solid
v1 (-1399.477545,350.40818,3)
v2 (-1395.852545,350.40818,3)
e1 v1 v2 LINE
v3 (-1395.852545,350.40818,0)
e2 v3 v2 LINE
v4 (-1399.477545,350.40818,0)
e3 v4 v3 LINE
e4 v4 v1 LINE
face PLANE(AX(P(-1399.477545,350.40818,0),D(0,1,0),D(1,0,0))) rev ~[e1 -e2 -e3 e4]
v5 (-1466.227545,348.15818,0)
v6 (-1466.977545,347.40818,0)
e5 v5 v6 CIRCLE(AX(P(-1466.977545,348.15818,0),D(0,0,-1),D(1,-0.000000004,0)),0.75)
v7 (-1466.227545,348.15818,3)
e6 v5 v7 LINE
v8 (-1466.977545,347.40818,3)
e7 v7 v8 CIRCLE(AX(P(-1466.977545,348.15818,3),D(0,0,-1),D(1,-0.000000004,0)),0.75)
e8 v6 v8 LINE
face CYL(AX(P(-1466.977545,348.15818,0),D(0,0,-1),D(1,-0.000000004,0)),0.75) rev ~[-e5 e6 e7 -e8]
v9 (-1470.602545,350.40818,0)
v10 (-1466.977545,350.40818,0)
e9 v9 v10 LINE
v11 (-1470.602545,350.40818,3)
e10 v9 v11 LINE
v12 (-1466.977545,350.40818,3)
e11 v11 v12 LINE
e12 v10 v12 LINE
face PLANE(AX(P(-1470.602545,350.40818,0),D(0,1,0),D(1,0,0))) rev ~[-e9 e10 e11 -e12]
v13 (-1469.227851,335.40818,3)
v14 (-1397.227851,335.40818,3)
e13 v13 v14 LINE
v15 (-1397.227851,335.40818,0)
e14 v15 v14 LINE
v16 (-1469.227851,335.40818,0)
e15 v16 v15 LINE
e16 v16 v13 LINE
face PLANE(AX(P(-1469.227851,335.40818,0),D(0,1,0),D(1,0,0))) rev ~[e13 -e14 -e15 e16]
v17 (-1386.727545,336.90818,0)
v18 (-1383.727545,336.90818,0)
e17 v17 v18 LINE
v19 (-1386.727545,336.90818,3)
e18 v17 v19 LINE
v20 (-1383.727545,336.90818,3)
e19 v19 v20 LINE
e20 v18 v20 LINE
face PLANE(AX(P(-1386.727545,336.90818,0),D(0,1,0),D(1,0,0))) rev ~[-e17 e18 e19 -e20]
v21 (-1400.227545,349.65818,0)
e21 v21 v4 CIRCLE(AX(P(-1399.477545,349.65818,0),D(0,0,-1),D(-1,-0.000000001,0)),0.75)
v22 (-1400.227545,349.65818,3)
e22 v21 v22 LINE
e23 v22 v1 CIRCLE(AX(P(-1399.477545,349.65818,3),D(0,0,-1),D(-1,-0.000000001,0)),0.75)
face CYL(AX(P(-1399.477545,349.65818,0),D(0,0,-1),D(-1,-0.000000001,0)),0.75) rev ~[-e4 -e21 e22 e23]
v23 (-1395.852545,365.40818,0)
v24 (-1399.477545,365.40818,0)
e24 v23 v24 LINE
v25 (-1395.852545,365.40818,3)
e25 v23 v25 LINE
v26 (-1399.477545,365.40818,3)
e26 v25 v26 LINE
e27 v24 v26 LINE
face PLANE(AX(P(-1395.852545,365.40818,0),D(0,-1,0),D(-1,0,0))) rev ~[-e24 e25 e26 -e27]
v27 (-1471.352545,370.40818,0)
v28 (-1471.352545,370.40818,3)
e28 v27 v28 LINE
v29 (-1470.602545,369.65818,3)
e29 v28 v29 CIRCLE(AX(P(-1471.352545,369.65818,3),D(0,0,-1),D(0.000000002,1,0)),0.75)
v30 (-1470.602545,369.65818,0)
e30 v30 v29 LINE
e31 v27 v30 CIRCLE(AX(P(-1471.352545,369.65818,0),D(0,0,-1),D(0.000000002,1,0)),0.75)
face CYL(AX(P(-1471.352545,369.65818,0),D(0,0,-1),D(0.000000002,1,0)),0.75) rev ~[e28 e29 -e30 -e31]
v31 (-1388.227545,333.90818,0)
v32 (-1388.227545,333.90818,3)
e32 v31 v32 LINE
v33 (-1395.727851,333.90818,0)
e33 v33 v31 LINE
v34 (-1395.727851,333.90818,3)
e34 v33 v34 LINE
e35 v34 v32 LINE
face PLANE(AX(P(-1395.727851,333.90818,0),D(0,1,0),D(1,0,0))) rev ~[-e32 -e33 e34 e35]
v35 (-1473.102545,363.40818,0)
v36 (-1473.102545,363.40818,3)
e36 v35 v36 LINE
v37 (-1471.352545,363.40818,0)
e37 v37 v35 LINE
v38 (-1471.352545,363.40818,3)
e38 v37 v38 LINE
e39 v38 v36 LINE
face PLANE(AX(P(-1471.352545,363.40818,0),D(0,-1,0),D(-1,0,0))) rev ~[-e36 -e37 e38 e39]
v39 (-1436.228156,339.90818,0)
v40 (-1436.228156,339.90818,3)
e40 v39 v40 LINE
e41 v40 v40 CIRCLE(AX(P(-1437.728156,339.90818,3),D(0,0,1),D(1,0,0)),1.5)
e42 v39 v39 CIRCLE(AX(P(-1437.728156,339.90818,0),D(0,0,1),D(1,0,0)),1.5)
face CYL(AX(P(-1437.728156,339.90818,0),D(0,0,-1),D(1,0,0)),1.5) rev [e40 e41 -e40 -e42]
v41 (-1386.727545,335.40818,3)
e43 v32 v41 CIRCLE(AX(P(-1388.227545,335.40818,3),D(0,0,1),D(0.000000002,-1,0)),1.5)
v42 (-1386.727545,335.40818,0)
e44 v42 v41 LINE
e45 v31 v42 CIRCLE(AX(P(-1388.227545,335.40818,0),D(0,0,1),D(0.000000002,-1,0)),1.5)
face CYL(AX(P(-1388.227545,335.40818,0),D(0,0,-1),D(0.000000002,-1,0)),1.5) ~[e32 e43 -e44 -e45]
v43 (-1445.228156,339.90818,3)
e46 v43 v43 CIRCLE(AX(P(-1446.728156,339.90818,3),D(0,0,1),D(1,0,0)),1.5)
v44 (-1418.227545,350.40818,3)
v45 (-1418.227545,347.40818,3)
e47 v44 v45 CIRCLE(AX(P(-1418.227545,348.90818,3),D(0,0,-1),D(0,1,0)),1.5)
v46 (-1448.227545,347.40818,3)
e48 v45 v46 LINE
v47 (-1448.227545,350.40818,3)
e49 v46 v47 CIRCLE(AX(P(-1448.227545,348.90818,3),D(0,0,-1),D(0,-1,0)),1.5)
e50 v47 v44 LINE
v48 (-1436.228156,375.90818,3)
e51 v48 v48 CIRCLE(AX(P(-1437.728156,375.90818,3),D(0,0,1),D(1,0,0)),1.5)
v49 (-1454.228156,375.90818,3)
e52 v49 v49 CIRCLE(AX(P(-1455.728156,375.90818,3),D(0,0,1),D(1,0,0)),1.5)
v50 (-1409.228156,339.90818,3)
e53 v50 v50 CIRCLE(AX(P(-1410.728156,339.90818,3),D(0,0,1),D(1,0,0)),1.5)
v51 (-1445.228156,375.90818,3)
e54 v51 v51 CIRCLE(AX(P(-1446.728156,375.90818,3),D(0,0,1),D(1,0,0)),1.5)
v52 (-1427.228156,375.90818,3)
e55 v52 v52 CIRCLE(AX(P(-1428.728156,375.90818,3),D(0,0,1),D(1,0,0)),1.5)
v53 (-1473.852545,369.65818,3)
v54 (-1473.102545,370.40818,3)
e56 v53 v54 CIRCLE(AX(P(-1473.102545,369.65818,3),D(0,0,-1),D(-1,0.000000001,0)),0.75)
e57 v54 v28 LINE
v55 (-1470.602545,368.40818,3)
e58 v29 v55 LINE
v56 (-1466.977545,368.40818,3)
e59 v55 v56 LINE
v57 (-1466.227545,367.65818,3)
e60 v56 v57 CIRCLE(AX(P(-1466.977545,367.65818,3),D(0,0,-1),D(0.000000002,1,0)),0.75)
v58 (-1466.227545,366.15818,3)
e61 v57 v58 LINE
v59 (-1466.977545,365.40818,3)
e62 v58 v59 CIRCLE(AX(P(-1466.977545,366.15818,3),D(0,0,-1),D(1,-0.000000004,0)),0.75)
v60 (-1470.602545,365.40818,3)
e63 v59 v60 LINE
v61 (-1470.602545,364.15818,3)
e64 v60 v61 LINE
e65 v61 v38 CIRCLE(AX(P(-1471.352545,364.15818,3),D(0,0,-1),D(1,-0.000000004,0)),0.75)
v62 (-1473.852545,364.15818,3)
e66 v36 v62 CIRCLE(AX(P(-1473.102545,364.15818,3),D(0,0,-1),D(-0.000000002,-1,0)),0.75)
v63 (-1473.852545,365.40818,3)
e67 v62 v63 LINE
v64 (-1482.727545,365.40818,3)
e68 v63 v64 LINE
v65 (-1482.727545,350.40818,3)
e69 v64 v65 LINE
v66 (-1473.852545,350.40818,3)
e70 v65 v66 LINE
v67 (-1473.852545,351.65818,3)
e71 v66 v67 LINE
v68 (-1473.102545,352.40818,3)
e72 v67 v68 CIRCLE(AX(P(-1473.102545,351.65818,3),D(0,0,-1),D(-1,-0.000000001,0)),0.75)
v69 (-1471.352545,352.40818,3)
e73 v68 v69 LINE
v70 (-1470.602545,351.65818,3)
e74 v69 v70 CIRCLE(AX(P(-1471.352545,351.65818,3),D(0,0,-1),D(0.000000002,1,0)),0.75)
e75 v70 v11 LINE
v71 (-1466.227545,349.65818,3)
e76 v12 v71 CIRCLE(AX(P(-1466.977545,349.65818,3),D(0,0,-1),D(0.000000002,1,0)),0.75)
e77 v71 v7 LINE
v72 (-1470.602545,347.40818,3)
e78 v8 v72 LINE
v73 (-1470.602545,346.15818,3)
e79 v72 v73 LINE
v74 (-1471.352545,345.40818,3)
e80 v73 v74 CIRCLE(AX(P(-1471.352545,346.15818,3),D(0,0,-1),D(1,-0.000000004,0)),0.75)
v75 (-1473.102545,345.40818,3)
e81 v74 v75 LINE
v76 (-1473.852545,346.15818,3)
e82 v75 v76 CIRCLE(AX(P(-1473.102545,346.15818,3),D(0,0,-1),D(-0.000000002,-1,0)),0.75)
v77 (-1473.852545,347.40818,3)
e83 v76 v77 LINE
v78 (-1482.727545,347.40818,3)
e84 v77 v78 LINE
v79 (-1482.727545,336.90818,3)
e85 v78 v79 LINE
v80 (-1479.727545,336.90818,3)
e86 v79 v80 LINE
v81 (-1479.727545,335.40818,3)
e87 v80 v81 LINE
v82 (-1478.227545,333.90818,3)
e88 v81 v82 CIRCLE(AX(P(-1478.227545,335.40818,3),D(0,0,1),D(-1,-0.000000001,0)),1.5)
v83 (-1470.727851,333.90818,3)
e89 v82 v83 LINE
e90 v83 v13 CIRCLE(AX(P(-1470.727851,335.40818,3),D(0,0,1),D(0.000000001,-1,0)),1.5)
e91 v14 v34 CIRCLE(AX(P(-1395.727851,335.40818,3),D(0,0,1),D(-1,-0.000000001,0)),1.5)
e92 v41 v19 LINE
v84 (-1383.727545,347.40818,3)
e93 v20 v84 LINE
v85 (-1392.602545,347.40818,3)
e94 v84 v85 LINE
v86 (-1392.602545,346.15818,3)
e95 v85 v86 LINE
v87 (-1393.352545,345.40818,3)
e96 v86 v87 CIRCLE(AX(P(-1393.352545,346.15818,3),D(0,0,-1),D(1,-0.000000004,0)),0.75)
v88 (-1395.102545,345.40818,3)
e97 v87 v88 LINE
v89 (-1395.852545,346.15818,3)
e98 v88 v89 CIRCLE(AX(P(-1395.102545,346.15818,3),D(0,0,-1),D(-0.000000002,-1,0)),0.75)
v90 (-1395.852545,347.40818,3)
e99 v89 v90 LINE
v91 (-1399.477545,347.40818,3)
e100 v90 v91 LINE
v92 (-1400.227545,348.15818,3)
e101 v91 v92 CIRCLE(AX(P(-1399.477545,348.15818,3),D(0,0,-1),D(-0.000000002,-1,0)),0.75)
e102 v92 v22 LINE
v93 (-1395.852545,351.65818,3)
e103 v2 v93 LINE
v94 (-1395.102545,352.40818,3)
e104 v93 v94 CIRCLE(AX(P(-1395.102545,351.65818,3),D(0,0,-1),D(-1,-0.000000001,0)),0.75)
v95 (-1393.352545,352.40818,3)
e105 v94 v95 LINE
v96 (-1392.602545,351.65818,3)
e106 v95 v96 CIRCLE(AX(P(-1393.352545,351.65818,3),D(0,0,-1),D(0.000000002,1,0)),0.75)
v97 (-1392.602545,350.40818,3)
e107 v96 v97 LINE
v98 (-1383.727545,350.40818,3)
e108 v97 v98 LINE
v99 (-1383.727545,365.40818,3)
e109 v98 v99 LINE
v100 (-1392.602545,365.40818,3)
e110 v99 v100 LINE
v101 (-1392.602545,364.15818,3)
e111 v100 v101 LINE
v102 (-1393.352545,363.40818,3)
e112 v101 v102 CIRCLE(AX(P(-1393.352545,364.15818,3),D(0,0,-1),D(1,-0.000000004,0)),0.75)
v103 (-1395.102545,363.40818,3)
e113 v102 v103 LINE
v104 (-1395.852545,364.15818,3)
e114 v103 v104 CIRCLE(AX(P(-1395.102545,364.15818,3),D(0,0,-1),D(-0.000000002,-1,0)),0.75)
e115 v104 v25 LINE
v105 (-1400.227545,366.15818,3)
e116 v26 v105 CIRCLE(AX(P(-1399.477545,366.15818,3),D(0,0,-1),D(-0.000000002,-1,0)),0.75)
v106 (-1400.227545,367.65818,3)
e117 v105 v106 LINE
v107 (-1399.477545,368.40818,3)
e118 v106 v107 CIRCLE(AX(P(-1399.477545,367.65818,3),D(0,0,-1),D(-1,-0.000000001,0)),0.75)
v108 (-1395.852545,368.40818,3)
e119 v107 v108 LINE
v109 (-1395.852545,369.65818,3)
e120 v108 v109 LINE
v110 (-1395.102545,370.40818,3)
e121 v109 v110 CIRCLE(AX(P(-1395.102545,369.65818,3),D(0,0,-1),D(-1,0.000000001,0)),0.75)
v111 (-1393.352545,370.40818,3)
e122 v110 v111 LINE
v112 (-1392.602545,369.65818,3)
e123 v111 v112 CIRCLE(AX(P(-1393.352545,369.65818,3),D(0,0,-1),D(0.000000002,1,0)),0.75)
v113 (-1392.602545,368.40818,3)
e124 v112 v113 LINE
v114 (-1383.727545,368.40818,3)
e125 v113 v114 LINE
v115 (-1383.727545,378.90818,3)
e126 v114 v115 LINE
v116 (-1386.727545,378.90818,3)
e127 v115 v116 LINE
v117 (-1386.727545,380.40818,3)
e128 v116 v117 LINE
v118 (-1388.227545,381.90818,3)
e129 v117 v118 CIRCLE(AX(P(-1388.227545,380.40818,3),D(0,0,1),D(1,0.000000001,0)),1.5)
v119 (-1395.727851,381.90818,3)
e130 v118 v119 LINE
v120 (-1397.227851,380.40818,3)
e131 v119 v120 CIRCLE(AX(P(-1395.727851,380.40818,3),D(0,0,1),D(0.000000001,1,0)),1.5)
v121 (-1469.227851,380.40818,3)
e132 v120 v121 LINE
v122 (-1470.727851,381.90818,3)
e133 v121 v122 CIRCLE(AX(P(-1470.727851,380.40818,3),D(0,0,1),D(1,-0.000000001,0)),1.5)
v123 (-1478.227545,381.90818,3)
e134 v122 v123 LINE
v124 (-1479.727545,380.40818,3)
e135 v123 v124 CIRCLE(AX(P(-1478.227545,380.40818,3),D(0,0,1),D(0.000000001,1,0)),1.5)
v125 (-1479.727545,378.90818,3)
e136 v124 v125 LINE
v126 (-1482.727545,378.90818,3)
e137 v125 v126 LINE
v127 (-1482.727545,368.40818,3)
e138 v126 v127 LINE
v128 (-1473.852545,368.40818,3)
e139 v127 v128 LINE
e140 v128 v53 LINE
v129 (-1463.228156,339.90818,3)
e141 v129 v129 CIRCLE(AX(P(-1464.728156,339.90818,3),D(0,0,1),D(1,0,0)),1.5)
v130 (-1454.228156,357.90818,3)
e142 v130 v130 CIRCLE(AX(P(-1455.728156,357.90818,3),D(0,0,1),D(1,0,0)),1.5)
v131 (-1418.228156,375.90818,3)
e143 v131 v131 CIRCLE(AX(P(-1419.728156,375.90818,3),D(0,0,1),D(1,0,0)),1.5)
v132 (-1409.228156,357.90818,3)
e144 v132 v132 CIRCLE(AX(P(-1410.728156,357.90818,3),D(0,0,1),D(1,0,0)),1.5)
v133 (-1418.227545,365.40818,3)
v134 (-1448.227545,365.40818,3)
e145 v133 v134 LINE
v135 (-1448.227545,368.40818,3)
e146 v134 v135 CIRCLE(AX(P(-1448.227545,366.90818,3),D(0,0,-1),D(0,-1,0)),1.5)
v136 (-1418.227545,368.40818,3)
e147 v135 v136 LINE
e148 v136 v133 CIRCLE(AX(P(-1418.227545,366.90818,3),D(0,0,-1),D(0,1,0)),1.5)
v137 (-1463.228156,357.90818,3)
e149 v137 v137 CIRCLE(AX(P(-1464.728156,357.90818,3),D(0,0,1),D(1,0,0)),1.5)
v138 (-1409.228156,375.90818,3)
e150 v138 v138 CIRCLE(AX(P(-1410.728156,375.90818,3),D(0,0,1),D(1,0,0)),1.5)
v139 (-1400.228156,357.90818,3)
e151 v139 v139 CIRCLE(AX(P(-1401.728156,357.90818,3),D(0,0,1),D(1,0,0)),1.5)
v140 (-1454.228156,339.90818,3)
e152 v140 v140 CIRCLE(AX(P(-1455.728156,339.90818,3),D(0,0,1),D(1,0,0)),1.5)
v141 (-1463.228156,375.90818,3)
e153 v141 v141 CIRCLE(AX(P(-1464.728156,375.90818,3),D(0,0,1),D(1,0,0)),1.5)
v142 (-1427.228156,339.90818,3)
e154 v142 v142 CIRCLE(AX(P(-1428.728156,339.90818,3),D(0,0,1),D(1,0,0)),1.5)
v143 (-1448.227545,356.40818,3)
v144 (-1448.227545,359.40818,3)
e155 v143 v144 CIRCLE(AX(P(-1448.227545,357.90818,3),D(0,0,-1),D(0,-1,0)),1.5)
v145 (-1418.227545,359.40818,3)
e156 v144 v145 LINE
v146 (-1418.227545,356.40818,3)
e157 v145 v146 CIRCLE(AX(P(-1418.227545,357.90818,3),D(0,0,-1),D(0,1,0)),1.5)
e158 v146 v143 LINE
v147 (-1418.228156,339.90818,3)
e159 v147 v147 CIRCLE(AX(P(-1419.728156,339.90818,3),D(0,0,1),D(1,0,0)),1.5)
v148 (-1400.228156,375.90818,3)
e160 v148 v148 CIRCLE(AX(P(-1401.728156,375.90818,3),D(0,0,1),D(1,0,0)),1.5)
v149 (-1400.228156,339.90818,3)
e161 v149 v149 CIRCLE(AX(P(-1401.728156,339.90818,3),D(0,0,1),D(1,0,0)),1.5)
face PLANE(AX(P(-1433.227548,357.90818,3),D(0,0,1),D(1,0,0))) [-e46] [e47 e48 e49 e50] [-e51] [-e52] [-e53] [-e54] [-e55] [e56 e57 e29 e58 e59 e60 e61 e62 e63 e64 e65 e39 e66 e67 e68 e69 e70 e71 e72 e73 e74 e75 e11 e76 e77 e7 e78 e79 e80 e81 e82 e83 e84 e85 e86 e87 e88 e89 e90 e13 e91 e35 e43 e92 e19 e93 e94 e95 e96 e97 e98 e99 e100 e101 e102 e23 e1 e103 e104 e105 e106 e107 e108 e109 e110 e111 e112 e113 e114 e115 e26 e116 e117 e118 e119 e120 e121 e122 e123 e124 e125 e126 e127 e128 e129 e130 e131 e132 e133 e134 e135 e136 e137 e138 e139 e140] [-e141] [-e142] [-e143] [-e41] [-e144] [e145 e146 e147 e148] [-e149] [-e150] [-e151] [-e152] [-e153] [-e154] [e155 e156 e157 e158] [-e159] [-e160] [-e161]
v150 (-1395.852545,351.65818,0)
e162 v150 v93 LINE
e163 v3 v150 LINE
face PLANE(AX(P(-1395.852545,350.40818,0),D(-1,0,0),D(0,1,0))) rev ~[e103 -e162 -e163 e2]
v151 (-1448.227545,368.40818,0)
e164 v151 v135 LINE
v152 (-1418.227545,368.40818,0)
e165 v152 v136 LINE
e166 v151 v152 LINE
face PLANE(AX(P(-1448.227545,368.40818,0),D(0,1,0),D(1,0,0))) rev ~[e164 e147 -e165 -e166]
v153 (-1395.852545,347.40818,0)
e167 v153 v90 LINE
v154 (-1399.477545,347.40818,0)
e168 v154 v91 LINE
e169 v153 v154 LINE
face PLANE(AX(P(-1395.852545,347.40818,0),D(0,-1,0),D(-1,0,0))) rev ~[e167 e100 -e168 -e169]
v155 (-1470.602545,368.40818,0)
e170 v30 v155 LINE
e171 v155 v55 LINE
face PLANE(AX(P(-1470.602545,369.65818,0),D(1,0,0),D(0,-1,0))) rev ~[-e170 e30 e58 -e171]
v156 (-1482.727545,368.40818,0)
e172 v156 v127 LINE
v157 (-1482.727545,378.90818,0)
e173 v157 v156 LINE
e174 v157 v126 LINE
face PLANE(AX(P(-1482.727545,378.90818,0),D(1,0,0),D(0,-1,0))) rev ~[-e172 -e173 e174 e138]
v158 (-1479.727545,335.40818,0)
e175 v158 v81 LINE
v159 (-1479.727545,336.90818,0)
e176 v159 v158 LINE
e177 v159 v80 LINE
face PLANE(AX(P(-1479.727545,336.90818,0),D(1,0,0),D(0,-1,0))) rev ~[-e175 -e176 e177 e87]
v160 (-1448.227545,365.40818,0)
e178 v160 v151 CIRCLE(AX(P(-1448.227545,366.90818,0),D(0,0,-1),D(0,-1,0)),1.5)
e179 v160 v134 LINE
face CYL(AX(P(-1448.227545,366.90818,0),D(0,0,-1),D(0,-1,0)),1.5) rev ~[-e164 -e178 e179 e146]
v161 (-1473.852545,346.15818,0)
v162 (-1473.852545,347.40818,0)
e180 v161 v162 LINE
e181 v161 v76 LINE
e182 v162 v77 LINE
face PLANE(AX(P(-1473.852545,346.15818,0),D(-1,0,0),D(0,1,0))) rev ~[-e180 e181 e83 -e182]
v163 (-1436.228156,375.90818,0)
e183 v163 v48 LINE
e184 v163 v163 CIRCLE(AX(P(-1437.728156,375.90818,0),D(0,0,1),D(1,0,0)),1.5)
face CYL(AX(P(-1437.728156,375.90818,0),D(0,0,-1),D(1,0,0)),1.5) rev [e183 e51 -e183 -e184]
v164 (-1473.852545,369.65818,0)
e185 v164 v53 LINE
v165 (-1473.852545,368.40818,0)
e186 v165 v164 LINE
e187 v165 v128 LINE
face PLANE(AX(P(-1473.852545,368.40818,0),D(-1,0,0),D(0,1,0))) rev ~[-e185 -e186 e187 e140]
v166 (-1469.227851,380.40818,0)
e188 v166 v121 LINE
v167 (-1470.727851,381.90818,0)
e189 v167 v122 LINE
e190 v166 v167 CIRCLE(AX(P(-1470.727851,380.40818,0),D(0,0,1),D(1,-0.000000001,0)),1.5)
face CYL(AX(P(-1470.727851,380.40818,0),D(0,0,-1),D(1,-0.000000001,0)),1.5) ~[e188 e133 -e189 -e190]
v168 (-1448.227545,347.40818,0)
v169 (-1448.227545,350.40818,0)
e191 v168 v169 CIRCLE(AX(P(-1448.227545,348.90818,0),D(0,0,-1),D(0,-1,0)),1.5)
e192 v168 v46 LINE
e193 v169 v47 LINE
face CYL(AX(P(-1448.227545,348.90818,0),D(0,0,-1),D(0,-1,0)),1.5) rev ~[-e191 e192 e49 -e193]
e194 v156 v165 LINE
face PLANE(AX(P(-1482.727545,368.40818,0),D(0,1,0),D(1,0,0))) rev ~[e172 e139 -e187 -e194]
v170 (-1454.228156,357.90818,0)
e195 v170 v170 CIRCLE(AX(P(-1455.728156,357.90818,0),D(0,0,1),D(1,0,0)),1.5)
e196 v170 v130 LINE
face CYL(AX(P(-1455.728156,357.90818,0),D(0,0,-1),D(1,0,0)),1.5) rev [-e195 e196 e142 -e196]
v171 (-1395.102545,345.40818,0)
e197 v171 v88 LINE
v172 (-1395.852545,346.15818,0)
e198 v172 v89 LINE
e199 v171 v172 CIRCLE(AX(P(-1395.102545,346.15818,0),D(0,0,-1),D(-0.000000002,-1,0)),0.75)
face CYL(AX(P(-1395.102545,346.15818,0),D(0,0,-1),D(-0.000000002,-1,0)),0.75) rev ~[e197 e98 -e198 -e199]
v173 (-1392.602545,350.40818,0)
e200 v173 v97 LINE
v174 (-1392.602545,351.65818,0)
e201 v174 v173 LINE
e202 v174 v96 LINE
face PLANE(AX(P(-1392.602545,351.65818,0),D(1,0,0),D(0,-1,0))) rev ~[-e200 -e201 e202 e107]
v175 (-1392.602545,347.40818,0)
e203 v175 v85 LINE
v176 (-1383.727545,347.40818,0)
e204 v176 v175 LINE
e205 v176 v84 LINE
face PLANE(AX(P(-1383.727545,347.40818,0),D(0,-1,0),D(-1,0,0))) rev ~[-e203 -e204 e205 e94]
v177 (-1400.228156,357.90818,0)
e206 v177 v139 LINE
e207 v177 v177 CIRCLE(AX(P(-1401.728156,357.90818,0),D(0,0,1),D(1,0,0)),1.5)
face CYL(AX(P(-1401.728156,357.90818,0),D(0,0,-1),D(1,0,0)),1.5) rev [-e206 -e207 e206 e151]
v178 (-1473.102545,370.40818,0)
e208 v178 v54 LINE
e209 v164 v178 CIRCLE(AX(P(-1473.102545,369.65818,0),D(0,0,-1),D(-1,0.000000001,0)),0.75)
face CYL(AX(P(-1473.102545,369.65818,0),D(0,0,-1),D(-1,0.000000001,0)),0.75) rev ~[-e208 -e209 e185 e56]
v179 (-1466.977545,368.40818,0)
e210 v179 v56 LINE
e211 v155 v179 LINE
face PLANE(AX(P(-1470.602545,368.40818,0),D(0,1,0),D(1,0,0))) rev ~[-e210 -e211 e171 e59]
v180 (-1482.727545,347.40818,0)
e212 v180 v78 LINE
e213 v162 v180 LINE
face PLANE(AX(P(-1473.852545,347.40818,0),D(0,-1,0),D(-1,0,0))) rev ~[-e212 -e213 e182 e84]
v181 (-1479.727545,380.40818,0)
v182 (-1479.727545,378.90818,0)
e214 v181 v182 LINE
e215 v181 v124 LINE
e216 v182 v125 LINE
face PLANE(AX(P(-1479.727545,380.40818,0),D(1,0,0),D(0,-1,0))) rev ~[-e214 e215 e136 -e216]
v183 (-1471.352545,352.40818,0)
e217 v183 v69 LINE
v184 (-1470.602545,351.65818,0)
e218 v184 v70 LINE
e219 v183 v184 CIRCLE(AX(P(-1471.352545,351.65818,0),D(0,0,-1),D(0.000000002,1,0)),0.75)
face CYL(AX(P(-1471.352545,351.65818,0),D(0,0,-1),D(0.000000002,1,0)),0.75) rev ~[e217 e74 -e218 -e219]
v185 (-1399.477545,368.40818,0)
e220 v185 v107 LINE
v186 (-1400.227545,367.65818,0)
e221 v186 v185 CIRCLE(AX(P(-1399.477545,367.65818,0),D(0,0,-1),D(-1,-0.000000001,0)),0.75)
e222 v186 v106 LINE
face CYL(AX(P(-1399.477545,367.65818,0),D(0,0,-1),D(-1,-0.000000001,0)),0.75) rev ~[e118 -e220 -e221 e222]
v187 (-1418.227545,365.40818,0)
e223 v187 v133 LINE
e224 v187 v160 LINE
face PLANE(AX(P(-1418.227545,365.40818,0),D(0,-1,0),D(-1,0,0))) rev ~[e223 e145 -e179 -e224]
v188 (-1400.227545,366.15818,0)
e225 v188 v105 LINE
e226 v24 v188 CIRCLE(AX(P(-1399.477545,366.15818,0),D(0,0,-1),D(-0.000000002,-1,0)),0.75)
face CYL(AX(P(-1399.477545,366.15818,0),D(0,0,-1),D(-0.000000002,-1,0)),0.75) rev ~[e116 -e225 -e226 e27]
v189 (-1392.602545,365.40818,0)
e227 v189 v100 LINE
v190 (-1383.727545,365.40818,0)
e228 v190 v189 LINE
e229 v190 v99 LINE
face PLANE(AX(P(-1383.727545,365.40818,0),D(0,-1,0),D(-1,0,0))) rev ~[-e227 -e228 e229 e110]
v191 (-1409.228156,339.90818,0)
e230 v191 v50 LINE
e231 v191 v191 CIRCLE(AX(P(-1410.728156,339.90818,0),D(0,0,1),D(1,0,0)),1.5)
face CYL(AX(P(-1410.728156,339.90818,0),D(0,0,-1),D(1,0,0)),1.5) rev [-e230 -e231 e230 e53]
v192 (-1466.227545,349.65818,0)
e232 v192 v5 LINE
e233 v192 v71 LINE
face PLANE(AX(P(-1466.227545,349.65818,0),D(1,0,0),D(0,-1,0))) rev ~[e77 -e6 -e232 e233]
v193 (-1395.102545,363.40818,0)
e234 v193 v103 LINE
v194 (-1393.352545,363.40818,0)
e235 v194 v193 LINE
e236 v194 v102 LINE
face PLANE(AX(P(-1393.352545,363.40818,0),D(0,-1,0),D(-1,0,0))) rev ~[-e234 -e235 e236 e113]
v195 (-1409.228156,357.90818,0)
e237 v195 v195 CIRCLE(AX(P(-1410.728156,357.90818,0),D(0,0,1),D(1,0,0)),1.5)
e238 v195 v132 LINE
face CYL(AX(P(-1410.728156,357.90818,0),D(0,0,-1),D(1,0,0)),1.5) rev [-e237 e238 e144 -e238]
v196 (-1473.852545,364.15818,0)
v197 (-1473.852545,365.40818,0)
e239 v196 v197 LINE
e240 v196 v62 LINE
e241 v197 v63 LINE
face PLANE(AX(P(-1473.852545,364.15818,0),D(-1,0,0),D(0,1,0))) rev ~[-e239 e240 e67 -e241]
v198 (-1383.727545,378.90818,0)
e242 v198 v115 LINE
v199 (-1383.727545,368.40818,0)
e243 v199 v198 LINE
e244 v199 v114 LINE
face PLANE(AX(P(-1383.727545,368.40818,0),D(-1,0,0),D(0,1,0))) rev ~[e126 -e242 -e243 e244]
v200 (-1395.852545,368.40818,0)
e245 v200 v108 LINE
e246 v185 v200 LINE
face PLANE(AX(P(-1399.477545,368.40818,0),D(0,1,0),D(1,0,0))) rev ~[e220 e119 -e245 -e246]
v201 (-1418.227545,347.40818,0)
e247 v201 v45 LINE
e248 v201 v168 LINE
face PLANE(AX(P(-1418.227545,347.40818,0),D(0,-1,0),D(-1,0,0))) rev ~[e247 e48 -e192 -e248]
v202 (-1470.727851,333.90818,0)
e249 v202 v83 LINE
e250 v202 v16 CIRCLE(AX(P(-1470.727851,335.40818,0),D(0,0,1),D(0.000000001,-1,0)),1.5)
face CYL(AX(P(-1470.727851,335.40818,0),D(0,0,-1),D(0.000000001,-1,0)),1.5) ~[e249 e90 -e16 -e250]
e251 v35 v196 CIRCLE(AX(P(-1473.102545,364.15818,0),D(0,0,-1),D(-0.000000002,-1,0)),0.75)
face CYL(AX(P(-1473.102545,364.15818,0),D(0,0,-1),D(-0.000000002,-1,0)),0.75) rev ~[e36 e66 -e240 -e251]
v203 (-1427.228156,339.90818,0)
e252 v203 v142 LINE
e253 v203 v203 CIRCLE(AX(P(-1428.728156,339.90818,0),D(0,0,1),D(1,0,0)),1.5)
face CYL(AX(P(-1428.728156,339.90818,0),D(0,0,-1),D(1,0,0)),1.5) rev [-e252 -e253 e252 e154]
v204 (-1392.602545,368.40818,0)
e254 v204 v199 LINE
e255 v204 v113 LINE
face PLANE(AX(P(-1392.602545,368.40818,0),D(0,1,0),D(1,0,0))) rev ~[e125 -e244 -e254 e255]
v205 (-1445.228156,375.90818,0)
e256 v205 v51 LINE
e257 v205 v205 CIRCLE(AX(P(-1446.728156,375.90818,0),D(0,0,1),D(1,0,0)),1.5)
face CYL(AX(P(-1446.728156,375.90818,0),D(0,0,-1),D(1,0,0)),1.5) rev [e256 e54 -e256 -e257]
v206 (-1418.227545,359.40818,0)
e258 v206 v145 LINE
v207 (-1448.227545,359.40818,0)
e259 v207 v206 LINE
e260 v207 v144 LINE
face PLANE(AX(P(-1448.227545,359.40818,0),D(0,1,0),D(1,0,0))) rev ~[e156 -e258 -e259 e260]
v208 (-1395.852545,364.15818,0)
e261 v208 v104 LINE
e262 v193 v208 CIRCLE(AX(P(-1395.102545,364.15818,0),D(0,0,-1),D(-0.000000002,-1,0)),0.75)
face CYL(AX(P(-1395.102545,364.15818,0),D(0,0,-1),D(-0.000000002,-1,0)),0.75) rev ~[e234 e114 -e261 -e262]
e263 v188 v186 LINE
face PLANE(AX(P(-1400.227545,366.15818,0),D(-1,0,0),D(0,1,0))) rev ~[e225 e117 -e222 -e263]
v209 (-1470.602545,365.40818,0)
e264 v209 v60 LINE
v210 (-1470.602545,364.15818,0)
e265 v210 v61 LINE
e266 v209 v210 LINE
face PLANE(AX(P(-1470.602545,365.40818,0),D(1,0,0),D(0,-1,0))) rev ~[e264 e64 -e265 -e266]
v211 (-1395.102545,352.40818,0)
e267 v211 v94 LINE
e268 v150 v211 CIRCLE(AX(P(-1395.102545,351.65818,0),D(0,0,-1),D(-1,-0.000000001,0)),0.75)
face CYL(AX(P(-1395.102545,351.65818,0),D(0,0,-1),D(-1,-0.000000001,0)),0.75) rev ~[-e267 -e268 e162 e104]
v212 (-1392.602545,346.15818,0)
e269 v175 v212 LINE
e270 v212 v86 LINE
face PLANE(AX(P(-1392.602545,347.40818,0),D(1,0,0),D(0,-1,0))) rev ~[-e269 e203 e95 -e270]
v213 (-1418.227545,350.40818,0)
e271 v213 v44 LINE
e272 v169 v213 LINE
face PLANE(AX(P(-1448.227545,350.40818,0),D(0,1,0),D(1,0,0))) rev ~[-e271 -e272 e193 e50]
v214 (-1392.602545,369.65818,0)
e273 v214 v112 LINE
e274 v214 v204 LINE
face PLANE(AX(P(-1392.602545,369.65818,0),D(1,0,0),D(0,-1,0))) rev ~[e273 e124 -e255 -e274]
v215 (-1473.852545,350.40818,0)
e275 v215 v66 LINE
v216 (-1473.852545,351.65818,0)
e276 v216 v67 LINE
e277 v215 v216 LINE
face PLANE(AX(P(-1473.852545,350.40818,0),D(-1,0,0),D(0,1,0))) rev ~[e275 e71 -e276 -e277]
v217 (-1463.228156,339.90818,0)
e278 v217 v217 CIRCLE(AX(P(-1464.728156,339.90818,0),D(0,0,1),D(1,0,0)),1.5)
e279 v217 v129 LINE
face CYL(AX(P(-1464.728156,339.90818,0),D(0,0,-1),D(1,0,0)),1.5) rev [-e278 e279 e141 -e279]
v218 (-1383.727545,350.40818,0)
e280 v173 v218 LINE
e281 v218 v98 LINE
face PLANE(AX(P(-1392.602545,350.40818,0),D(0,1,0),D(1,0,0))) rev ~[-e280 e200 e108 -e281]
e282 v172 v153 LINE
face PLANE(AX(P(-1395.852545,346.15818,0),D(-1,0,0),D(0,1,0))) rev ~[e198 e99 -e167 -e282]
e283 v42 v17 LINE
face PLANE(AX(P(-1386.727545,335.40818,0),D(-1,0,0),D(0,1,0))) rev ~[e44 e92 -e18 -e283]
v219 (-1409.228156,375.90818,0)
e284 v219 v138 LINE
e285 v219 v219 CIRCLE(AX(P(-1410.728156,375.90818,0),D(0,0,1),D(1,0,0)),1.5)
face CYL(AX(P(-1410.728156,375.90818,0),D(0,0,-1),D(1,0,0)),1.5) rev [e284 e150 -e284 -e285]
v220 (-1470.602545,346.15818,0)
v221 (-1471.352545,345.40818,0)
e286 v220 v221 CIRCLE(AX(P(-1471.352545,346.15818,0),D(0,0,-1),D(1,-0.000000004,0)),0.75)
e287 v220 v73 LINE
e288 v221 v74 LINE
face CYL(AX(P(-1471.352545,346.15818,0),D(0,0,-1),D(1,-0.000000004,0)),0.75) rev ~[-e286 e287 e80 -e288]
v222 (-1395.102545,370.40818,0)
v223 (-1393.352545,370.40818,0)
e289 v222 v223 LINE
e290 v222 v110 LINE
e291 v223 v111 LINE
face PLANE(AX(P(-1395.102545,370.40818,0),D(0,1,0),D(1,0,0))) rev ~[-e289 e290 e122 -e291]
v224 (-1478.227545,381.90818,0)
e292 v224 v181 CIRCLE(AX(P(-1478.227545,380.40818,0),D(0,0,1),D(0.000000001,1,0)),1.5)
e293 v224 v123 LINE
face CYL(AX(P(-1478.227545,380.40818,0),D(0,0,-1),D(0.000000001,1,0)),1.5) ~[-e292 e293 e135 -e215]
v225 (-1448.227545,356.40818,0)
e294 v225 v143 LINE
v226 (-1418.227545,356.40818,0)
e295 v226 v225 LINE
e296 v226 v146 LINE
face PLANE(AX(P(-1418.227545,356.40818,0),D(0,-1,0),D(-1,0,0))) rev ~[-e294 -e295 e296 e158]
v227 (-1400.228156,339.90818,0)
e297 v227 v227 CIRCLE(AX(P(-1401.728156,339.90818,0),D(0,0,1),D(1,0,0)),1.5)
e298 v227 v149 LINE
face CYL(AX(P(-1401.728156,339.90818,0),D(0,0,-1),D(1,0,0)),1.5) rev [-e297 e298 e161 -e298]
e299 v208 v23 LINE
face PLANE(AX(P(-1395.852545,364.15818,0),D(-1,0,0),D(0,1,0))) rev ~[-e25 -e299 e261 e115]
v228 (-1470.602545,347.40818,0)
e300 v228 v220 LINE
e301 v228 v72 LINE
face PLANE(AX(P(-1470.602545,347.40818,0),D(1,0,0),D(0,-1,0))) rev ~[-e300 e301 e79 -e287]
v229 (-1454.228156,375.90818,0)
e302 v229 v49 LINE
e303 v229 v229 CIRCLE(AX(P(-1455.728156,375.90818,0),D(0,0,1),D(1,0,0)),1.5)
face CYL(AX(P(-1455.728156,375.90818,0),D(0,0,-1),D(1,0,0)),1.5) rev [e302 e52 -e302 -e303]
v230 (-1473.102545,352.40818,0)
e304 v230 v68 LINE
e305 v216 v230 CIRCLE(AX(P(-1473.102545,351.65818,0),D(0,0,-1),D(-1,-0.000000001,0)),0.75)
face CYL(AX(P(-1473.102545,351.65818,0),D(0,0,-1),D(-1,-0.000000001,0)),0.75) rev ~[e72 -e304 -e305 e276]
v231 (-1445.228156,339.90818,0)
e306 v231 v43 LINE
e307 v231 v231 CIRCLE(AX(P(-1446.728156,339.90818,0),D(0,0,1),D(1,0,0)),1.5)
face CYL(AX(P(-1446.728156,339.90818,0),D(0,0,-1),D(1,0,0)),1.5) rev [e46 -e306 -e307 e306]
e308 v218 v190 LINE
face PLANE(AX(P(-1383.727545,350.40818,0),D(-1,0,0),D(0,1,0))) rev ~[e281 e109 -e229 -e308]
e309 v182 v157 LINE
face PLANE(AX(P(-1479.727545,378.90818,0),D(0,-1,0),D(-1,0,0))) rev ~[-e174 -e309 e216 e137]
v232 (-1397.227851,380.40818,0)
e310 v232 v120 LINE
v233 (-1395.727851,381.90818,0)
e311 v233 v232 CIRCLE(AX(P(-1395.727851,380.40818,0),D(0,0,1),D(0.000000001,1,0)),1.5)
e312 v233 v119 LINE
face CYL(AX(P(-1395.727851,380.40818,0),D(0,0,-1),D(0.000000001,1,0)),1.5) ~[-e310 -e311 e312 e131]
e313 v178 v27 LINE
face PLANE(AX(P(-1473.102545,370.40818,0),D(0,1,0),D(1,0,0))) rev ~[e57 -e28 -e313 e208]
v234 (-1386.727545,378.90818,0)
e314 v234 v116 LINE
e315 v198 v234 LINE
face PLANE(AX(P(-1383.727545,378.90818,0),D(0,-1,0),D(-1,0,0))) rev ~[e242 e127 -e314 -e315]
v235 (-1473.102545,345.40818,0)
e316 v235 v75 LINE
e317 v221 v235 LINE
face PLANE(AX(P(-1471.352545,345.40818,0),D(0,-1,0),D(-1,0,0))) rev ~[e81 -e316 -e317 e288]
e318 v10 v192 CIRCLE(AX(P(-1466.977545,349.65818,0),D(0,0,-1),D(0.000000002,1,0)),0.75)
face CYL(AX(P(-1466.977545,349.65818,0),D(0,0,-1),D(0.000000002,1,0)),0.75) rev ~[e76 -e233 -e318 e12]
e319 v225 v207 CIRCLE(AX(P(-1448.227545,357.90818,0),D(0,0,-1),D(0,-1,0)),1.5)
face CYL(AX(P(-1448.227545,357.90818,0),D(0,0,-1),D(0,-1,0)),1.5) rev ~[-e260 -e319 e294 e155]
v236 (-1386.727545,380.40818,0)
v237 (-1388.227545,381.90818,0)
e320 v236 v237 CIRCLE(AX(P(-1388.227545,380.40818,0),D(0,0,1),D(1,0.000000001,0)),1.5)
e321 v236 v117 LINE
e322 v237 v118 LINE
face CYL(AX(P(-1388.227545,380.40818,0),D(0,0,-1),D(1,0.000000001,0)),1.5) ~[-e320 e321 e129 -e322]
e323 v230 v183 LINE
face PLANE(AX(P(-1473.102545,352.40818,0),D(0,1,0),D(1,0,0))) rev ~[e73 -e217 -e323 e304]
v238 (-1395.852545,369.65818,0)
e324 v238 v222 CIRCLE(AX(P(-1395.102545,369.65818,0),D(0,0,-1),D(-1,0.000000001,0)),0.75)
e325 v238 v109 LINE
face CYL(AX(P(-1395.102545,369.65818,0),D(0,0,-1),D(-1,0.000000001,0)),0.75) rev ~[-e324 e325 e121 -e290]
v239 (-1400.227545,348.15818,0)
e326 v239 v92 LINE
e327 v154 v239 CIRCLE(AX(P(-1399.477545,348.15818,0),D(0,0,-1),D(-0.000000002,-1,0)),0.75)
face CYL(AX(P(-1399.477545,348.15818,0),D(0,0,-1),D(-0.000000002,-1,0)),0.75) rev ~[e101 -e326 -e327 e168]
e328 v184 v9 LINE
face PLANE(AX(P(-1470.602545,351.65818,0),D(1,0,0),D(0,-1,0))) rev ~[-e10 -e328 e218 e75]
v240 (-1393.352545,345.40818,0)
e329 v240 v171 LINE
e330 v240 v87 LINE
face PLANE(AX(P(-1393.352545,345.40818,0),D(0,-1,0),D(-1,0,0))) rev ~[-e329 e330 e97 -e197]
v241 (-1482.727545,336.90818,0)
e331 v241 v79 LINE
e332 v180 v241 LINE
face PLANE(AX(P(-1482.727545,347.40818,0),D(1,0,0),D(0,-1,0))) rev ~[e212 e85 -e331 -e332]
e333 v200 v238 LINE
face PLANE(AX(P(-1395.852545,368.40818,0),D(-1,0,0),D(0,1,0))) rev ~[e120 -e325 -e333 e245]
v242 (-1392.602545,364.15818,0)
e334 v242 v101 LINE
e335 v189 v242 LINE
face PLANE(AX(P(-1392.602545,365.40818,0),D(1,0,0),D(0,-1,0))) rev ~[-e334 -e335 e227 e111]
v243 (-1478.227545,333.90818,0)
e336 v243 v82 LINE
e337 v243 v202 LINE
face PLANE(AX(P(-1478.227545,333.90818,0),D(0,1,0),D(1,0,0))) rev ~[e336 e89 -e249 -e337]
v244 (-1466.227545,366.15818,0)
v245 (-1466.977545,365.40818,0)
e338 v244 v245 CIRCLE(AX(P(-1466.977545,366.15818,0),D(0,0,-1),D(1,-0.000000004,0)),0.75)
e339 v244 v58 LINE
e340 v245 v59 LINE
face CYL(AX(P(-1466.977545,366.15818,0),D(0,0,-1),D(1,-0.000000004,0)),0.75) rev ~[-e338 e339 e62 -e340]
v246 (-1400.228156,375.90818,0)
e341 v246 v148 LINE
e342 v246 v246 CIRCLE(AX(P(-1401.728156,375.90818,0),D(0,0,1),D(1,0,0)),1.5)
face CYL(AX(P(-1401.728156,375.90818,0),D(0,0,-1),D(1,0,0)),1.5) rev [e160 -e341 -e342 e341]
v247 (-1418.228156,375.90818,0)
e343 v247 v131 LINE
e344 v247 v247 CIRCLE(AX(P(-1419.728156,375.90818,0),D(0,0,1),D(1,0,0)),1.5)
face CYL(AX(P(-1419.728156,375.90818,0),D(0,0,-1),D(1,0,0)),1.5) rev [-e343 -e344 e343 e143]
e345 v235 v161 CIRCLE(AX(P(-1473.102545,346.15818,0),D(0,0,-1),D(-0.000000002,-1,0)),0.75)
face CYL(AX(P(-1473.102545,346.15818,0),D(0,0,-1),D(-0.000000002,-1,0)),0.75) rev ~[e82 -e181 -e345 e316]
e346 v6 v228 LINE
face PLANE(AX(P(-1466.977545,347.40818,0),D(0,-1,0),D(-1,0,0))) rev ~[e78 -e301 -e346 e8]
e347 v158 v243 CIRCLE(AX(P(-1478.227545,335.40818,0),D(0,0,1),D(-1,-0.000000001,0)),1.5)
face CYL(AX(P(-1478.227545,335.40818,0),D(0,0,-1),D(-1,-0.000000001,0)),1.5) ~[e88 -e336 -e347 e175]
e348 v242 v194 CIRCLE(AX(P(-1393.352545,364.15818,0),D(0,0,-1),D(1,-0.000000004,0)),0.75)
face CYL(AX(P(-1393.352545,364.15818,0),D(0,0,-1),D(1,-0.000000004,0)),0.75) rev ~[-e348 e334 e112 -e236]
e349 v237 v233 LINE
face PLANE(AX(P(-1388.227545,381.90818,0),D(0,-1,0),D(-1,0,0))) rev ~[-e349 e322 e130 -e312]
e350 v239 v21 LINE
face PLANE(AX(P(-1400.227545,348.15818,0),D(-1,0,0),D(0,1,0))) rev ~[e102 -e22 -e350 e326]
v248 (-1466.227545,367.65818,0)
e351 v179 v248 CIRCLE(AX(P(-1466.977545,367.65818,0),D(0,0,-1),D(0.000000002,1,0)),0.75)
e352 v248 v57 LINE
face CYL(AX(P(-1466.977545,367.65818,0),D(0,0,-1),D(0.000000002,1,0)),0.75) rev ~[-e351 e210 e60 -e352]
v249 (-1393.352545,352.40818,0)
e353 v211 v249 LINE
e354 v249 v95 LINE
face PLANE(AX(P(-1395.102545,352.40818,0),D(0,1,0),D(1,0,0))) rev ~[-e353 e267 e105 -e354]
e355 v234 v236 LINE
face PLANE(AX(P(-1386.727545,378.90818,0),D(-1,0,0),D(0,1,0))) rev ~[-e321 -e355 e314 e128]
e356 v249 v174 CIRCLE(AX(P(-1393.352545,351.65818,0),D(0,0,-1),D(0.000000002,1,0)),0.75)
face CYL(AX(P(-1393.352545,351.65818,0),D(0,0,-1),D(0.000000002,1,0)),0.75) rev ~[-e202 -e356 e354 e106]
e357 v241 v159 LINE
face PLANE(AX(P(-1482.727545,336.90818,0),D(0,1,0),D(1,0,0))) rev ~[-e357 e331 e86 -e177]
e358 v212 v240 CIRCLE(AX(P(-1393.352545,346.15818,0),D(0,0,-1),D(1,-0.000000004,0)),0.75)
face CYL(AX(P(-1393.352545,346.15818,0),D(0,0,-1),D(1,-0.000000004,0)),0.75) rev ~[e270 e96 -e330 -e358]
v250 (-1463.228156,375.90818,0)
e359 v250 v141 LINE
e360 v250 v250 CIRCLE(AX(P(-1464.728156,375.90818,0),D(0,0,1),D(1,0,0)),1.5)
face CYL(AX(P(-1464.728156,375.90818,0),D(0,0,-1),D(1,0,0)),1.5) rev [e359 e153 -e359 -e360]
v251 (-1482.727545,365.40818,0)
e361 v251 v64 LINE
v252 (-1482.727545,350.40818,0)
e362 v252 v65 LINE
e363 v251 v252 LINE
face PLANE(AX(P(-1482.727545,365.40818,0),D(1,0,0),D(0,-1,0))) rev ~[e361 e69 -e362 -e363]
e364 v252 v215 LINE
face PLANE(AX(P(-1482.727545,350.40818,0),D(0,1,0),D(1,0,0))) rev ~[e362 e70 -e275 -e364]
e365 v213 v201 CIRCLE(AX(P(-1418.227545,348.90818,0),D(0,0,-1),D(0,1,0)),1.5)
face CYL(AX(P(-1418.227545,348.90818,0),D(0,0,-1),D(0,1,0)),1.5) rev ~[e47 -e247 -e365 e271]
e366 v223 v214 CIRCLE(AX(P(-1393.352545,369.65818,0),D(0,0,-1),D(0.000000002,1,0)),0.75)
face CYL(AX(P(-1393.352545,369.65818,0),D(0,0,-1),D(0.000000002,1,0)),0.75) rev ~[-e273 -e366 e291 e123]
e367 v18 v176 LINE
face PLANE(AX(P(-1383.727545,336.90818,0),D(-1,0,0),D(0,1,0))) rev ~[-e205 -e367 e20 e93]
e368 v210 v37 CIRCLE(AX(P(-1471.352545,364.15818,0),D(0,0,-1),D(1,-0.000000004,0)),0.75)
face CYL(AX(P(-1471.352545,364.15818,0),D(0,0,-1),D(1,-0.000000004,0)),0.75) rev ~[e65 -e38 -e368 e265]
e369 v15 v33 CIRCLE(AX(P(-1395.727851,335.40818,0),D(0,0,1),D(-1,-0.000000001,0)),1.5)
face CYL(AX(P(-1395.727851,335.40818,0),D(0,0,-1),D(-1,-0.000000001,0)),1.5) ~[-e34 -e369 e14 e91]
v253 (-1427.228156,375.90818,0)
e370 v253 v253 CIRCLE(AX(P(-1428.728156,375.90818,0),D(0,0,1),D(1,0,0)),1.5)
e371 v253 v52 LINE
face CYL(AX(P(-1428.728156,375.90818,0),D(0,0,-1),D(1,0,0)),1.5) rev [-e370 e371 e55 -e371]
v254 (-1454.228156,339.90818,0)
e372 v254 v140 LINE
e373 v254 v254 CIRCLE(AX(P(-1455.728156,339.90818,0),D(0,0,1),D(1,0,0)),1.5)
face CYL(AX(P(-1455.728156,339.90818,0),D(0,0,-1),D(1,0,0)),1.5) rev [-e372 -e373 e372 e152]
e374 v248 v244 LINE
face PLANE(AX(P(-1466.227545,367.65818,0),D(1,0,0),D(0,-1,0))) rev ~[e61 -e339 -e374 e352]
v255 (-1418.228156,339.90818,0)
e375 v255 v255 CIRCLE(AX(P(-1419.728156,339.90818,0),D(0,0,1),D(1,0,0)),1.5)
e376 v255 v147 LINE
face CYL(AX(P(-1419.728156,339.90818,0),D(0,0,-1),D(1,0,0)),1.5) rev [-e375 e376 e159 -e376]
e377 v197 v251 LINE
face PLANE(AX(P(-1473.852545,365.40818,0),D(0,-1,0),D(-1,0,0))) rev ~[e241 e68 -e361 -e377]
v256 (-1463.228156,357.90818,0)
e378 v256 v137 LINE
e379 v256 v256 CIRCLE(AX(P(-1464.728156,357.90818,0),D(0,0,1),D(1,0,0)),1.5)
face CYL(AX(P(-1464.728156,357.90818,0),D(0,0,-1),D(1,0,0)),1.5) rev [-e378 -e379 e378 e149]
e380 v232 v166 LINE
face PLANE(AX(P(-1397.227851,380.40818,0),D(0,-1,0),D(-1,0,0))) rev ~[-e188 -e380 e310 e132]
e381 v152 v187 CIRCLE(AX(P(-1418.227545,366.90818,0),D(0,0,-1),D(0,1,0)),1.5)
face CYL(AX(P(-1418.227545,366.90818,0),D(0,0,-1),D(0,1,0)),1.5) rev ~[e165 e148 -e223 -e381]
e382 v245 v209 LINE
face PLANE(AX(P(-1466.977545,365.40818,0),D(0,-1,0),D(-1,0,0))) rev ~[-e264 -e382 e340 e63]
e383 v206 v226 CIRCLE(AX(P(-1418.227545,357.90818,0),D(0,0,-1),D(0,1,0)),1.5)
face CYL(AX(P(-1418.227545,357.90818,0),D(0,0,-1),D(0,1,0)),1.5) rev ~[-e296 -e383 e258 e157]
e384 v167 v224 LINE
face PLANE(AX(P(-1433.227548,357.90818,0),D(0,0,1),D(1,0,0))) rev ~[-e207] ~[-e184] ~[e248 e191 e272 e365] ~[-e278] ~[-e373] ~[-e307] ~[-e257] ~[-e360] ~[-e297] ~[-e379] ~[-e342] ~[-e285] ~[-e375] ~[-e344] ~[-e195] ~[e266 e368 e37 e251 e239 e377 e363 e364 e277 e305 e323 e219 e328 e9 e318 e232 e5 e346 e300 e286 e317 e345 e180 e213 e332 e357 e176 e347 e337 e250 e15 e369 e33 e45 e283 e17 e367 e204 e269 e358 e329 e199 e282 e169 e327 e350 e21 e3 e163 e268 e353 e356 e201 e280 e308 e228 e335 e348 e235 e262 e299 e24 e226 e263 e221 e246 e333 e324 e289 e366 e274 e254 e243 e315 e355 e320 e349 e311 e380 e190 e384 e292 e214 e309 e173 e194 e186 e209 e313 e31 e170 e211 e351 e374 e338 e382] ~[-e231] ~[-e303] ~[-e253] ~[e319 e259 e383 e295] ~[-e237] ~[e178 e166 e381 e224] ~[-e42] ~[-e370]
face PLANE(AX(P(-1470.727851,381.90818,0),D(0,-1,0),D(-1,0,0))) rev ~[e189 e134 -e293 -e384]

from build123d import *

# Parameters (mm, degrees)
MODEL_R                 = 1.5
SALIENTE_EXTRUIR1_DEPTH = 3


with BuildPart() as part:
    # Model → Saliente-Extruir1 (new body)
    with BuildSketch(Plane.XY):
        with BuildLine():
            Line((-1383.727545355, 378.908179756), (-1386.727545355, 378.908179756))
            Line((-1386.727545355, 378.908179756), (-1386.727545355, 380.408179756))
            ThreePointArc((-1386.727545355, 380.408179756), (-1387.166885184, 381.468839928), (-1388.227545355, 381.908179756))
            Line((-1388.227545355, 381.908179756), (-1395.72785056, 381.908179756))
            ThreePointArc((-1395.72785056, 381.908179756), (-1396.788510732, 381.468839928), (-1397.22785056, 380.408179756))
            Line((-1397.22785056, 380.408179756), (-1469.22785056, 380.408179756))
            ThreePointArc((-1469.22785056, 380.408179756), (-1469.667190388, 381.468839928), (-1470.72785056, 381.908179756))
            Line((-1470.72785056, 381.908179756), (-1478.227545355, 381.908179756))
            ThreePointArc((-1478.227545355, 381.908179756), (-1479.288205527, 381.468839928), (-1479.727545355, 380.408179756))
            Line((-1479.727545355, 380.408179756), (-1479.727545355, 378.908179756))
            Line((-1479.727545355, 378.908179756), (-1482.727545355, 378.908179756))
            Line((-1482.727545355, 378.908179756), (-1482.727545355, 368.408179756))
            Line((-1482.727545355, 368.408179756), (-1473.852545355, 368.408179756))
            Line((-1473.852545355, 368.408179756), (-1473.852545355, 369.658179757))
            ThreePointArc((-1473.852545355, 369.658179757), (-1473.632875441, 370.188509842), (-1473.102545355, 370.408179756))
            Line((-1473.102545355, 370.408179756), (-1471.352545355, 370.408179756))
            ThreePointArc((-1471.352545355, 370.408179756), (-1470.82221527, 370.188509842), (-1470.602545355, 369.658179757))
            Line((-1470.602545355, 369.658179757), (-1470.602545355, 368.408179756))
            Line((-1470.602545355, 368.408179756), (-1466.977545355, 368.408179756))
            ThreePointArc((-1466.977545355, 368.408179756), (-1466.44721527, 368.188509842), (-1466.227545355, 367.658179756))
            Line((-1466.227545355, 367.658179756), (-1466.227545355, 366.158179756))
            ThreePointArc((-1466.227545355, 366.158179756), (-1466.44721527, 365.627849671), (-1466.977545355, 365.408179756))
            Line((-1466.977545355, 365.408179756), (-1470.602545355, 365.408179756))
            Line((-1470.602545355, 365.408179756), (-1470.602545355, 364.158179756))
            ThreePointArc((-1470.602545355, 364.158179756), (-1470.82221527, 363.627849671), (-1471.352545355, 363.408179756))
            Line((-1471.352545355, 363.408179756), (-1473.102545355, 363.408179756))
            ThreePointArc((-1473.102545355, 363.408179756), (-1473.632875441, 363.627849671), (-1473.852545355, 364.158179756))
            Line((-1473.852545355, 364.158179756), (-1473.852545355, 365.408179756))
            Line((-1473.852545355, 365.408179756), (-1482.727545355, 365.408179756))
            Line((-1482.727545355, 365.408179756), (-1482.727545355, 350.408179756))
            Line((-1482.727545355, 350.408179756), (-1473.852545355, 350.408179756))
            Line((-1473.852545355, 350.408179756), (-1473.852545355, 351.658179756))
            ThreePointArc((-1473.852545355, 351.658179756), (-1473.632875441, 352.188509842), (-1473.102545355, 352.408179756))
            Line((-1473.102545355, 352.408179756), (-1471.352545355, 352.408179756))
            ThreePointArc((-1471.352545355, 352.408179756), (-1470.82221527, 352.188509842), (-1470.602545355, 351.658179756))
            Line((-1470.602545355, 351.658179756), (-1470.602545355, 350.408179756))
            Line((-1470.602545355, 350.408179756), (-1466.977545355, 350.408179756))
            ThreePointArc((-1466.977545355, 350.408179756), (-1466.44721527, 350.188509842), (-1466.227545355, 349.658179756))
            Line((-1466.227545355, 349.658179756), (-1466.227545355, 348.158179756))
            ThreePointArc((-1466.227545355, 348.158179756), (-1466.44721527, 347.627849671), (-1466.977545355, 347.408179756))
            Line((-1466.977545355, 347.408179756), (-1470.602545355, 347.408179756))
            Line((-1470.602545355, 347.408179756), (-1470.602545355, 346.158179756))
            ThreePointArc((-1470.602545355, 346.158179756), (-1470.82221527, 345.627849671), (-1471.352545355, 345.408179756))
            Line((-1471.352545355, 345.408179756), (-1473.102545355, 345.408179756))
            ThreePointArc((-1473.102545355, 345.408179756), (-1473.632875441, 345.627849671), (-1473.852545355, 346.158179756))
            Line((-1473.852545355, 346.158179756), (-1473.852545355, 347.408179756))
            Line((-1473.852545355, 347.408179756), (-1482.727545355, 347.408179756))
            Line((-1482.727545355, 347.408179756), (-1482.727545355, 336.908179756))
            Line((-1482.727545355, 336.908179756), (-1479.727545355, 336.908179756))
            Line((-1479.727545355, 336.908179756), (-1479.727545355, 335.408179756))
            ThreePointArc((-1479.727545355, 335.408179756), (-1479.288205527, 334.347519585), (-1478.227545355, 333.908179756))
            Line((-1478.227545355, 333.908179756), (-1470.72785056, 333.908179756))
            ThreePointArc((-1470.72785056, 333.908179756), (-1469.667190388, 334.347519585), (-1469.22785056, 335.408179756))
            Line((-1469.22785056, 335.408179756), (-1397.22785056, 335.408179756))
            ThreePointArc((-1397.22785056, 335.408179756), (-1396.788510732, 334.347519585), (-1395.72785056, 333.908179756))
            Line((-1395.72785056, 333.908179756), (-1388.227545355, 333.908179756))
            ThreePointArc((-1388.227545355, 333.908179756), (-1387.166885184, 334.347519585), (-1386.727545355, 335.408179756))
            Line((-1386.727545355, 335.408179756), (-1386.727545355, 336.908179756))
            Line((-1386.727545355, 336.908179756), (-1383.727545355, 336.908179756))
            Line((-1383.727545355, 336.908179756), (-1383.727545355, 347.408179756))
            Line((-1383.727545355, 347.408179756), (-1392.602545355, 347.408179756))
            Line((-1392.602545355, 347.408179756), (-1392.602545355, 346.158179756))
            ThreePointArc((-1392.602545355, 346.158179756), (-1392.82221527, 345.627849671), (-1393.352545355, 345.408179756))
            Line((-1393.352545355, 345.408179756), (-1395.102545355, 345.408179756))
            ThreePointArc((-1395.102545355, 345.408179756), (-1395.632875441, 345.627849671), (-1395.852545355, 346.158179756))
            Line((-1395.852545355, 346.158179756), (-1395.852545355, 347.408179756))
            Line((-1395.852545355, 347.408179756), (-1399.477545355, 347.408179756))
            ThreePointArc((-1399.477545355, 347.408179756), (-1400.007875441, 347.627849671), (-1400.227545355, 348.158179756))
            Line((-1400.227545355, 348.158179756), (-1400.227545355, 349.658179756))
            ThreePointArc((-1400.227545355, 349.658179756), (-1400.007875441, 350.188509842), (-1399.477545355, 350.408179756))
            Line((-1399.477545355, 350.408179756), (-1395.852545355, 350.408179756))
            Line((-1395.852545355, 350.408179756), (-1395.852545355, 351.658179756))
            ThreePointArc((-1395.852545355, 351.658179756), (-1395.632875441, 352.188509842), (-1395.102545355, 352.408179756))
            Line((-1395.102545355, 352.408179756), (-1393.352545355, 352.408179756))
            ThreePointArc((-1393.352545355, 352.408179756), (-1392.82221527, 352.188509842), (-1392.602545355, 351.658179756))
            Line((-1392.602545355, 351.658179756), (-1392.602545355, 350.408179756))
            Line((-1392.602545355, 350.408179756), (-1383.727545355, 350.408179756))
            Line((-1383.727545355, 350.408179756), (-1383.727545355, 365.408179756))
            Line((-1383.727545355, 365.408179756), (-1392.602545355, 365.408179756))
            Line((-1392.602545355, 365.408179756), (-1392.602545355, 364.158179756))
            ThreePointArc((-1392.602545355, 364.158179756), (-1392.82221527, 363.627849671), (-1393.352545355, 363.408179756))
            Line((-1393.352545355, 363.408179756), (-1395.102545355, 363.408179756))
            ThreePointArc((-1395.102545355, 363.408179756), (-1395.632875441, 363.627849671), (-1395.852545355, 364.158179756))
            Line((-1395.852545355, 364.158179756), (-1395.852545355, 365.408179756))
            Line((-1395.852545355, 365.408179756), (-1399.477545355, 365.408179756))
            ThreePointArc((-1399.477545355, 365.408179756), (-1400.007875441, 365.627849671), (-1400.227545355, 366.158179756))
            Line((-1400.227545355, 366.158179756), (-1400.227545355, 367.658179756))
            ThreePointArc((-1400.227545355, 367.658179756), (-1400.007875441, 368.188509842), (-1399.477545355, 368.408179756))
            Line((-1399.477545355, 368.408179756), (-1395.852545355, 368.408179756))
            Line((-1395.852545355, 368.408179756), (-1395.852545355, 369.658179757))
            ThreePointArc((-1395.852545355, 369.658179757), (-1395.632875441, 370.188509842), (-1395.102545355, 370.408179756))
            Line((-1395.102545355, 370.408179756), (-1393.352545355, 370.408179756))
            ThreePointArc((-1393.352545355, 370.408179756), (-1392.82221527, 370.188509842), (-1392.602545355, 369.658179757))
            Line((-1392.602545355, 369.658179757), (-1392.602545355, 368.408179756))
            Line((-1392.602545355, 368.408179756), (-1383.727545355, 368.408179756))
            Line((-1383.727545355, 368.408179756), (-1383.727545355, 378.908179756))
        make_face()
        with Locations((-1401.728155765, 357.908179756)):
            Circle(MODEL_R, mode=Mode.SUBTRACT)
        with Locations((-1464.728155765, 357.908179756)):
            Circle(MODEL_R, mode=Mode.SUBTRACT)
        with Locations((-1455.728155765, 357.908179756)):
            Circle(MODEL_R, mode=Mode.SUBTRACT)
        with Locations((-1410.728155765, 357.908179756)):
            Circle(MODEL_R, mode=Mode.SUBTRACT)
        with Locations((-1464.728155765, 375.908179756)):
            Circle(MODEL_R, mode=Mode.SUBTRACT)
        with Locations((-1455.728155765, 375.908179756)):
            Circle(MODEL_R, mode=Mode.SUBTRACT)
        with Locations((-1446.728155765, 375.908179756)):
            Circle(MODEL_R, mode=Mode.SUBTRACT)
        with Locations((-1437.728155765, 375.908179756)):
            Circle(MODEL_R, mode=Mode.SUBTRACT)
        with Locations((-1428.728155765, 375.908179756)):
            Circle(MODEL_R, mode=Mode.SUBTRACT)
        with Locations((-1419.728155765, 375.908179756)):
            Circle(MODEL_R, mode=Mode.SUBTRACT)
        with Locations((-1410.728155765, 375.908179756)):
            Circle(MODEL_R, mode=Mode.SUBTRACT)
        with Locations((-1401.728155765, 375.908179756)):
            Circle(MODEL_R, mode=Mode.SUBTRACT)
        with Locations((-1464.728155765, 339.908179757)):
            Circle(MODEL_R, mode=Mode.SUBTRACT)
        with Locations((-1455.728155765, 339.908179757)):
            Circle(MODEL_R, mode=Mode.SUBTRACT)
        with Locations((-1446.728155765, 339.908179757)):
            Circle(MODEL_R, mode=Mode.SUBTRACT)
        with Locations((-1437.728155765, 339.908179757)):
            Circle(MODEL_R, mode=Mode.SUBTRACT)
        with Locations((-1428.728155765, 339.908179757)):
            Circle(MODEL_R, mode=Mode.SUBTRACT)
        with Locations((-1419.728155765, 339.908179757)):
            Circle(MODEL_R, mode=Mode.SUBTRACT)
        with Locations((-1410.728155765, 339.908179757)):
            Circle(MODEL_R, mode=Mode.SUBTRACT)
        with Locations((-1401.728155765, 339.908179757)):
            Circle(MODEL_R, mode=Mode.SUBTRACT)
        with BuildLine():
            Line((-1448.227545355, 350.408179756), (-1418.227545355, 350.408179756))
            ThreePointArc((-1418.227545355, 350.408179756), (-1416.727545355, 348.908179756), (-1418.227545355, 347.408179756))
            Line((-1418.227545355, 347.408179756), (-1448.227545355, 347.408179756))
            ThreePointArc((-1448.227545355, 347.408179756), (-1449.727545355, 348.908179756), (-1448.227545355, 350.408179756))
        make_face(mode=Mode.SUBTRACT)
        with BuildLine():
            Line((-1448.227545355, 359.408179756), (-1418.227545355, 359.408179756))
            ThreePointArc((-1418.227545355, 359.408179756), (-1416.727545355, 357.908179756), (-1418.227545355, 356.408179756))
            Line((-1418.227545355, 356.408179756), (-1448.227545355, 356.408179756))
            ThreePointArc((-1448.227545355, 356.408179756), (-1449.727545355, 357.908179756), (-1448.227545355, 359.408179756))
        make_face(mode=Mode.SUBTRACT)
        with BuildLine():
            Line((-1448.227545355, 368.408179756), (-1418.227545355, 368.408179756))
            ThreePointArc((-1418.227545355, 368.408179756), (-1416.727545355, 366.908179756), (-1418.227545355, 365.408179756))
            Line((-1418.227545355, 365.408179756), (-1448.227545355, 365.408179756))
            ThreePointArc((-1448.227545355, 365.408179756), (-1449.727545355, 366.908179756), (-1448.227545355, 368.408179756))
        make_face(mode=Mode.SUBTRACT)
    extrude(amount=SALIENTE_EXTRUIR1_DEPTH)


solid = part.part
